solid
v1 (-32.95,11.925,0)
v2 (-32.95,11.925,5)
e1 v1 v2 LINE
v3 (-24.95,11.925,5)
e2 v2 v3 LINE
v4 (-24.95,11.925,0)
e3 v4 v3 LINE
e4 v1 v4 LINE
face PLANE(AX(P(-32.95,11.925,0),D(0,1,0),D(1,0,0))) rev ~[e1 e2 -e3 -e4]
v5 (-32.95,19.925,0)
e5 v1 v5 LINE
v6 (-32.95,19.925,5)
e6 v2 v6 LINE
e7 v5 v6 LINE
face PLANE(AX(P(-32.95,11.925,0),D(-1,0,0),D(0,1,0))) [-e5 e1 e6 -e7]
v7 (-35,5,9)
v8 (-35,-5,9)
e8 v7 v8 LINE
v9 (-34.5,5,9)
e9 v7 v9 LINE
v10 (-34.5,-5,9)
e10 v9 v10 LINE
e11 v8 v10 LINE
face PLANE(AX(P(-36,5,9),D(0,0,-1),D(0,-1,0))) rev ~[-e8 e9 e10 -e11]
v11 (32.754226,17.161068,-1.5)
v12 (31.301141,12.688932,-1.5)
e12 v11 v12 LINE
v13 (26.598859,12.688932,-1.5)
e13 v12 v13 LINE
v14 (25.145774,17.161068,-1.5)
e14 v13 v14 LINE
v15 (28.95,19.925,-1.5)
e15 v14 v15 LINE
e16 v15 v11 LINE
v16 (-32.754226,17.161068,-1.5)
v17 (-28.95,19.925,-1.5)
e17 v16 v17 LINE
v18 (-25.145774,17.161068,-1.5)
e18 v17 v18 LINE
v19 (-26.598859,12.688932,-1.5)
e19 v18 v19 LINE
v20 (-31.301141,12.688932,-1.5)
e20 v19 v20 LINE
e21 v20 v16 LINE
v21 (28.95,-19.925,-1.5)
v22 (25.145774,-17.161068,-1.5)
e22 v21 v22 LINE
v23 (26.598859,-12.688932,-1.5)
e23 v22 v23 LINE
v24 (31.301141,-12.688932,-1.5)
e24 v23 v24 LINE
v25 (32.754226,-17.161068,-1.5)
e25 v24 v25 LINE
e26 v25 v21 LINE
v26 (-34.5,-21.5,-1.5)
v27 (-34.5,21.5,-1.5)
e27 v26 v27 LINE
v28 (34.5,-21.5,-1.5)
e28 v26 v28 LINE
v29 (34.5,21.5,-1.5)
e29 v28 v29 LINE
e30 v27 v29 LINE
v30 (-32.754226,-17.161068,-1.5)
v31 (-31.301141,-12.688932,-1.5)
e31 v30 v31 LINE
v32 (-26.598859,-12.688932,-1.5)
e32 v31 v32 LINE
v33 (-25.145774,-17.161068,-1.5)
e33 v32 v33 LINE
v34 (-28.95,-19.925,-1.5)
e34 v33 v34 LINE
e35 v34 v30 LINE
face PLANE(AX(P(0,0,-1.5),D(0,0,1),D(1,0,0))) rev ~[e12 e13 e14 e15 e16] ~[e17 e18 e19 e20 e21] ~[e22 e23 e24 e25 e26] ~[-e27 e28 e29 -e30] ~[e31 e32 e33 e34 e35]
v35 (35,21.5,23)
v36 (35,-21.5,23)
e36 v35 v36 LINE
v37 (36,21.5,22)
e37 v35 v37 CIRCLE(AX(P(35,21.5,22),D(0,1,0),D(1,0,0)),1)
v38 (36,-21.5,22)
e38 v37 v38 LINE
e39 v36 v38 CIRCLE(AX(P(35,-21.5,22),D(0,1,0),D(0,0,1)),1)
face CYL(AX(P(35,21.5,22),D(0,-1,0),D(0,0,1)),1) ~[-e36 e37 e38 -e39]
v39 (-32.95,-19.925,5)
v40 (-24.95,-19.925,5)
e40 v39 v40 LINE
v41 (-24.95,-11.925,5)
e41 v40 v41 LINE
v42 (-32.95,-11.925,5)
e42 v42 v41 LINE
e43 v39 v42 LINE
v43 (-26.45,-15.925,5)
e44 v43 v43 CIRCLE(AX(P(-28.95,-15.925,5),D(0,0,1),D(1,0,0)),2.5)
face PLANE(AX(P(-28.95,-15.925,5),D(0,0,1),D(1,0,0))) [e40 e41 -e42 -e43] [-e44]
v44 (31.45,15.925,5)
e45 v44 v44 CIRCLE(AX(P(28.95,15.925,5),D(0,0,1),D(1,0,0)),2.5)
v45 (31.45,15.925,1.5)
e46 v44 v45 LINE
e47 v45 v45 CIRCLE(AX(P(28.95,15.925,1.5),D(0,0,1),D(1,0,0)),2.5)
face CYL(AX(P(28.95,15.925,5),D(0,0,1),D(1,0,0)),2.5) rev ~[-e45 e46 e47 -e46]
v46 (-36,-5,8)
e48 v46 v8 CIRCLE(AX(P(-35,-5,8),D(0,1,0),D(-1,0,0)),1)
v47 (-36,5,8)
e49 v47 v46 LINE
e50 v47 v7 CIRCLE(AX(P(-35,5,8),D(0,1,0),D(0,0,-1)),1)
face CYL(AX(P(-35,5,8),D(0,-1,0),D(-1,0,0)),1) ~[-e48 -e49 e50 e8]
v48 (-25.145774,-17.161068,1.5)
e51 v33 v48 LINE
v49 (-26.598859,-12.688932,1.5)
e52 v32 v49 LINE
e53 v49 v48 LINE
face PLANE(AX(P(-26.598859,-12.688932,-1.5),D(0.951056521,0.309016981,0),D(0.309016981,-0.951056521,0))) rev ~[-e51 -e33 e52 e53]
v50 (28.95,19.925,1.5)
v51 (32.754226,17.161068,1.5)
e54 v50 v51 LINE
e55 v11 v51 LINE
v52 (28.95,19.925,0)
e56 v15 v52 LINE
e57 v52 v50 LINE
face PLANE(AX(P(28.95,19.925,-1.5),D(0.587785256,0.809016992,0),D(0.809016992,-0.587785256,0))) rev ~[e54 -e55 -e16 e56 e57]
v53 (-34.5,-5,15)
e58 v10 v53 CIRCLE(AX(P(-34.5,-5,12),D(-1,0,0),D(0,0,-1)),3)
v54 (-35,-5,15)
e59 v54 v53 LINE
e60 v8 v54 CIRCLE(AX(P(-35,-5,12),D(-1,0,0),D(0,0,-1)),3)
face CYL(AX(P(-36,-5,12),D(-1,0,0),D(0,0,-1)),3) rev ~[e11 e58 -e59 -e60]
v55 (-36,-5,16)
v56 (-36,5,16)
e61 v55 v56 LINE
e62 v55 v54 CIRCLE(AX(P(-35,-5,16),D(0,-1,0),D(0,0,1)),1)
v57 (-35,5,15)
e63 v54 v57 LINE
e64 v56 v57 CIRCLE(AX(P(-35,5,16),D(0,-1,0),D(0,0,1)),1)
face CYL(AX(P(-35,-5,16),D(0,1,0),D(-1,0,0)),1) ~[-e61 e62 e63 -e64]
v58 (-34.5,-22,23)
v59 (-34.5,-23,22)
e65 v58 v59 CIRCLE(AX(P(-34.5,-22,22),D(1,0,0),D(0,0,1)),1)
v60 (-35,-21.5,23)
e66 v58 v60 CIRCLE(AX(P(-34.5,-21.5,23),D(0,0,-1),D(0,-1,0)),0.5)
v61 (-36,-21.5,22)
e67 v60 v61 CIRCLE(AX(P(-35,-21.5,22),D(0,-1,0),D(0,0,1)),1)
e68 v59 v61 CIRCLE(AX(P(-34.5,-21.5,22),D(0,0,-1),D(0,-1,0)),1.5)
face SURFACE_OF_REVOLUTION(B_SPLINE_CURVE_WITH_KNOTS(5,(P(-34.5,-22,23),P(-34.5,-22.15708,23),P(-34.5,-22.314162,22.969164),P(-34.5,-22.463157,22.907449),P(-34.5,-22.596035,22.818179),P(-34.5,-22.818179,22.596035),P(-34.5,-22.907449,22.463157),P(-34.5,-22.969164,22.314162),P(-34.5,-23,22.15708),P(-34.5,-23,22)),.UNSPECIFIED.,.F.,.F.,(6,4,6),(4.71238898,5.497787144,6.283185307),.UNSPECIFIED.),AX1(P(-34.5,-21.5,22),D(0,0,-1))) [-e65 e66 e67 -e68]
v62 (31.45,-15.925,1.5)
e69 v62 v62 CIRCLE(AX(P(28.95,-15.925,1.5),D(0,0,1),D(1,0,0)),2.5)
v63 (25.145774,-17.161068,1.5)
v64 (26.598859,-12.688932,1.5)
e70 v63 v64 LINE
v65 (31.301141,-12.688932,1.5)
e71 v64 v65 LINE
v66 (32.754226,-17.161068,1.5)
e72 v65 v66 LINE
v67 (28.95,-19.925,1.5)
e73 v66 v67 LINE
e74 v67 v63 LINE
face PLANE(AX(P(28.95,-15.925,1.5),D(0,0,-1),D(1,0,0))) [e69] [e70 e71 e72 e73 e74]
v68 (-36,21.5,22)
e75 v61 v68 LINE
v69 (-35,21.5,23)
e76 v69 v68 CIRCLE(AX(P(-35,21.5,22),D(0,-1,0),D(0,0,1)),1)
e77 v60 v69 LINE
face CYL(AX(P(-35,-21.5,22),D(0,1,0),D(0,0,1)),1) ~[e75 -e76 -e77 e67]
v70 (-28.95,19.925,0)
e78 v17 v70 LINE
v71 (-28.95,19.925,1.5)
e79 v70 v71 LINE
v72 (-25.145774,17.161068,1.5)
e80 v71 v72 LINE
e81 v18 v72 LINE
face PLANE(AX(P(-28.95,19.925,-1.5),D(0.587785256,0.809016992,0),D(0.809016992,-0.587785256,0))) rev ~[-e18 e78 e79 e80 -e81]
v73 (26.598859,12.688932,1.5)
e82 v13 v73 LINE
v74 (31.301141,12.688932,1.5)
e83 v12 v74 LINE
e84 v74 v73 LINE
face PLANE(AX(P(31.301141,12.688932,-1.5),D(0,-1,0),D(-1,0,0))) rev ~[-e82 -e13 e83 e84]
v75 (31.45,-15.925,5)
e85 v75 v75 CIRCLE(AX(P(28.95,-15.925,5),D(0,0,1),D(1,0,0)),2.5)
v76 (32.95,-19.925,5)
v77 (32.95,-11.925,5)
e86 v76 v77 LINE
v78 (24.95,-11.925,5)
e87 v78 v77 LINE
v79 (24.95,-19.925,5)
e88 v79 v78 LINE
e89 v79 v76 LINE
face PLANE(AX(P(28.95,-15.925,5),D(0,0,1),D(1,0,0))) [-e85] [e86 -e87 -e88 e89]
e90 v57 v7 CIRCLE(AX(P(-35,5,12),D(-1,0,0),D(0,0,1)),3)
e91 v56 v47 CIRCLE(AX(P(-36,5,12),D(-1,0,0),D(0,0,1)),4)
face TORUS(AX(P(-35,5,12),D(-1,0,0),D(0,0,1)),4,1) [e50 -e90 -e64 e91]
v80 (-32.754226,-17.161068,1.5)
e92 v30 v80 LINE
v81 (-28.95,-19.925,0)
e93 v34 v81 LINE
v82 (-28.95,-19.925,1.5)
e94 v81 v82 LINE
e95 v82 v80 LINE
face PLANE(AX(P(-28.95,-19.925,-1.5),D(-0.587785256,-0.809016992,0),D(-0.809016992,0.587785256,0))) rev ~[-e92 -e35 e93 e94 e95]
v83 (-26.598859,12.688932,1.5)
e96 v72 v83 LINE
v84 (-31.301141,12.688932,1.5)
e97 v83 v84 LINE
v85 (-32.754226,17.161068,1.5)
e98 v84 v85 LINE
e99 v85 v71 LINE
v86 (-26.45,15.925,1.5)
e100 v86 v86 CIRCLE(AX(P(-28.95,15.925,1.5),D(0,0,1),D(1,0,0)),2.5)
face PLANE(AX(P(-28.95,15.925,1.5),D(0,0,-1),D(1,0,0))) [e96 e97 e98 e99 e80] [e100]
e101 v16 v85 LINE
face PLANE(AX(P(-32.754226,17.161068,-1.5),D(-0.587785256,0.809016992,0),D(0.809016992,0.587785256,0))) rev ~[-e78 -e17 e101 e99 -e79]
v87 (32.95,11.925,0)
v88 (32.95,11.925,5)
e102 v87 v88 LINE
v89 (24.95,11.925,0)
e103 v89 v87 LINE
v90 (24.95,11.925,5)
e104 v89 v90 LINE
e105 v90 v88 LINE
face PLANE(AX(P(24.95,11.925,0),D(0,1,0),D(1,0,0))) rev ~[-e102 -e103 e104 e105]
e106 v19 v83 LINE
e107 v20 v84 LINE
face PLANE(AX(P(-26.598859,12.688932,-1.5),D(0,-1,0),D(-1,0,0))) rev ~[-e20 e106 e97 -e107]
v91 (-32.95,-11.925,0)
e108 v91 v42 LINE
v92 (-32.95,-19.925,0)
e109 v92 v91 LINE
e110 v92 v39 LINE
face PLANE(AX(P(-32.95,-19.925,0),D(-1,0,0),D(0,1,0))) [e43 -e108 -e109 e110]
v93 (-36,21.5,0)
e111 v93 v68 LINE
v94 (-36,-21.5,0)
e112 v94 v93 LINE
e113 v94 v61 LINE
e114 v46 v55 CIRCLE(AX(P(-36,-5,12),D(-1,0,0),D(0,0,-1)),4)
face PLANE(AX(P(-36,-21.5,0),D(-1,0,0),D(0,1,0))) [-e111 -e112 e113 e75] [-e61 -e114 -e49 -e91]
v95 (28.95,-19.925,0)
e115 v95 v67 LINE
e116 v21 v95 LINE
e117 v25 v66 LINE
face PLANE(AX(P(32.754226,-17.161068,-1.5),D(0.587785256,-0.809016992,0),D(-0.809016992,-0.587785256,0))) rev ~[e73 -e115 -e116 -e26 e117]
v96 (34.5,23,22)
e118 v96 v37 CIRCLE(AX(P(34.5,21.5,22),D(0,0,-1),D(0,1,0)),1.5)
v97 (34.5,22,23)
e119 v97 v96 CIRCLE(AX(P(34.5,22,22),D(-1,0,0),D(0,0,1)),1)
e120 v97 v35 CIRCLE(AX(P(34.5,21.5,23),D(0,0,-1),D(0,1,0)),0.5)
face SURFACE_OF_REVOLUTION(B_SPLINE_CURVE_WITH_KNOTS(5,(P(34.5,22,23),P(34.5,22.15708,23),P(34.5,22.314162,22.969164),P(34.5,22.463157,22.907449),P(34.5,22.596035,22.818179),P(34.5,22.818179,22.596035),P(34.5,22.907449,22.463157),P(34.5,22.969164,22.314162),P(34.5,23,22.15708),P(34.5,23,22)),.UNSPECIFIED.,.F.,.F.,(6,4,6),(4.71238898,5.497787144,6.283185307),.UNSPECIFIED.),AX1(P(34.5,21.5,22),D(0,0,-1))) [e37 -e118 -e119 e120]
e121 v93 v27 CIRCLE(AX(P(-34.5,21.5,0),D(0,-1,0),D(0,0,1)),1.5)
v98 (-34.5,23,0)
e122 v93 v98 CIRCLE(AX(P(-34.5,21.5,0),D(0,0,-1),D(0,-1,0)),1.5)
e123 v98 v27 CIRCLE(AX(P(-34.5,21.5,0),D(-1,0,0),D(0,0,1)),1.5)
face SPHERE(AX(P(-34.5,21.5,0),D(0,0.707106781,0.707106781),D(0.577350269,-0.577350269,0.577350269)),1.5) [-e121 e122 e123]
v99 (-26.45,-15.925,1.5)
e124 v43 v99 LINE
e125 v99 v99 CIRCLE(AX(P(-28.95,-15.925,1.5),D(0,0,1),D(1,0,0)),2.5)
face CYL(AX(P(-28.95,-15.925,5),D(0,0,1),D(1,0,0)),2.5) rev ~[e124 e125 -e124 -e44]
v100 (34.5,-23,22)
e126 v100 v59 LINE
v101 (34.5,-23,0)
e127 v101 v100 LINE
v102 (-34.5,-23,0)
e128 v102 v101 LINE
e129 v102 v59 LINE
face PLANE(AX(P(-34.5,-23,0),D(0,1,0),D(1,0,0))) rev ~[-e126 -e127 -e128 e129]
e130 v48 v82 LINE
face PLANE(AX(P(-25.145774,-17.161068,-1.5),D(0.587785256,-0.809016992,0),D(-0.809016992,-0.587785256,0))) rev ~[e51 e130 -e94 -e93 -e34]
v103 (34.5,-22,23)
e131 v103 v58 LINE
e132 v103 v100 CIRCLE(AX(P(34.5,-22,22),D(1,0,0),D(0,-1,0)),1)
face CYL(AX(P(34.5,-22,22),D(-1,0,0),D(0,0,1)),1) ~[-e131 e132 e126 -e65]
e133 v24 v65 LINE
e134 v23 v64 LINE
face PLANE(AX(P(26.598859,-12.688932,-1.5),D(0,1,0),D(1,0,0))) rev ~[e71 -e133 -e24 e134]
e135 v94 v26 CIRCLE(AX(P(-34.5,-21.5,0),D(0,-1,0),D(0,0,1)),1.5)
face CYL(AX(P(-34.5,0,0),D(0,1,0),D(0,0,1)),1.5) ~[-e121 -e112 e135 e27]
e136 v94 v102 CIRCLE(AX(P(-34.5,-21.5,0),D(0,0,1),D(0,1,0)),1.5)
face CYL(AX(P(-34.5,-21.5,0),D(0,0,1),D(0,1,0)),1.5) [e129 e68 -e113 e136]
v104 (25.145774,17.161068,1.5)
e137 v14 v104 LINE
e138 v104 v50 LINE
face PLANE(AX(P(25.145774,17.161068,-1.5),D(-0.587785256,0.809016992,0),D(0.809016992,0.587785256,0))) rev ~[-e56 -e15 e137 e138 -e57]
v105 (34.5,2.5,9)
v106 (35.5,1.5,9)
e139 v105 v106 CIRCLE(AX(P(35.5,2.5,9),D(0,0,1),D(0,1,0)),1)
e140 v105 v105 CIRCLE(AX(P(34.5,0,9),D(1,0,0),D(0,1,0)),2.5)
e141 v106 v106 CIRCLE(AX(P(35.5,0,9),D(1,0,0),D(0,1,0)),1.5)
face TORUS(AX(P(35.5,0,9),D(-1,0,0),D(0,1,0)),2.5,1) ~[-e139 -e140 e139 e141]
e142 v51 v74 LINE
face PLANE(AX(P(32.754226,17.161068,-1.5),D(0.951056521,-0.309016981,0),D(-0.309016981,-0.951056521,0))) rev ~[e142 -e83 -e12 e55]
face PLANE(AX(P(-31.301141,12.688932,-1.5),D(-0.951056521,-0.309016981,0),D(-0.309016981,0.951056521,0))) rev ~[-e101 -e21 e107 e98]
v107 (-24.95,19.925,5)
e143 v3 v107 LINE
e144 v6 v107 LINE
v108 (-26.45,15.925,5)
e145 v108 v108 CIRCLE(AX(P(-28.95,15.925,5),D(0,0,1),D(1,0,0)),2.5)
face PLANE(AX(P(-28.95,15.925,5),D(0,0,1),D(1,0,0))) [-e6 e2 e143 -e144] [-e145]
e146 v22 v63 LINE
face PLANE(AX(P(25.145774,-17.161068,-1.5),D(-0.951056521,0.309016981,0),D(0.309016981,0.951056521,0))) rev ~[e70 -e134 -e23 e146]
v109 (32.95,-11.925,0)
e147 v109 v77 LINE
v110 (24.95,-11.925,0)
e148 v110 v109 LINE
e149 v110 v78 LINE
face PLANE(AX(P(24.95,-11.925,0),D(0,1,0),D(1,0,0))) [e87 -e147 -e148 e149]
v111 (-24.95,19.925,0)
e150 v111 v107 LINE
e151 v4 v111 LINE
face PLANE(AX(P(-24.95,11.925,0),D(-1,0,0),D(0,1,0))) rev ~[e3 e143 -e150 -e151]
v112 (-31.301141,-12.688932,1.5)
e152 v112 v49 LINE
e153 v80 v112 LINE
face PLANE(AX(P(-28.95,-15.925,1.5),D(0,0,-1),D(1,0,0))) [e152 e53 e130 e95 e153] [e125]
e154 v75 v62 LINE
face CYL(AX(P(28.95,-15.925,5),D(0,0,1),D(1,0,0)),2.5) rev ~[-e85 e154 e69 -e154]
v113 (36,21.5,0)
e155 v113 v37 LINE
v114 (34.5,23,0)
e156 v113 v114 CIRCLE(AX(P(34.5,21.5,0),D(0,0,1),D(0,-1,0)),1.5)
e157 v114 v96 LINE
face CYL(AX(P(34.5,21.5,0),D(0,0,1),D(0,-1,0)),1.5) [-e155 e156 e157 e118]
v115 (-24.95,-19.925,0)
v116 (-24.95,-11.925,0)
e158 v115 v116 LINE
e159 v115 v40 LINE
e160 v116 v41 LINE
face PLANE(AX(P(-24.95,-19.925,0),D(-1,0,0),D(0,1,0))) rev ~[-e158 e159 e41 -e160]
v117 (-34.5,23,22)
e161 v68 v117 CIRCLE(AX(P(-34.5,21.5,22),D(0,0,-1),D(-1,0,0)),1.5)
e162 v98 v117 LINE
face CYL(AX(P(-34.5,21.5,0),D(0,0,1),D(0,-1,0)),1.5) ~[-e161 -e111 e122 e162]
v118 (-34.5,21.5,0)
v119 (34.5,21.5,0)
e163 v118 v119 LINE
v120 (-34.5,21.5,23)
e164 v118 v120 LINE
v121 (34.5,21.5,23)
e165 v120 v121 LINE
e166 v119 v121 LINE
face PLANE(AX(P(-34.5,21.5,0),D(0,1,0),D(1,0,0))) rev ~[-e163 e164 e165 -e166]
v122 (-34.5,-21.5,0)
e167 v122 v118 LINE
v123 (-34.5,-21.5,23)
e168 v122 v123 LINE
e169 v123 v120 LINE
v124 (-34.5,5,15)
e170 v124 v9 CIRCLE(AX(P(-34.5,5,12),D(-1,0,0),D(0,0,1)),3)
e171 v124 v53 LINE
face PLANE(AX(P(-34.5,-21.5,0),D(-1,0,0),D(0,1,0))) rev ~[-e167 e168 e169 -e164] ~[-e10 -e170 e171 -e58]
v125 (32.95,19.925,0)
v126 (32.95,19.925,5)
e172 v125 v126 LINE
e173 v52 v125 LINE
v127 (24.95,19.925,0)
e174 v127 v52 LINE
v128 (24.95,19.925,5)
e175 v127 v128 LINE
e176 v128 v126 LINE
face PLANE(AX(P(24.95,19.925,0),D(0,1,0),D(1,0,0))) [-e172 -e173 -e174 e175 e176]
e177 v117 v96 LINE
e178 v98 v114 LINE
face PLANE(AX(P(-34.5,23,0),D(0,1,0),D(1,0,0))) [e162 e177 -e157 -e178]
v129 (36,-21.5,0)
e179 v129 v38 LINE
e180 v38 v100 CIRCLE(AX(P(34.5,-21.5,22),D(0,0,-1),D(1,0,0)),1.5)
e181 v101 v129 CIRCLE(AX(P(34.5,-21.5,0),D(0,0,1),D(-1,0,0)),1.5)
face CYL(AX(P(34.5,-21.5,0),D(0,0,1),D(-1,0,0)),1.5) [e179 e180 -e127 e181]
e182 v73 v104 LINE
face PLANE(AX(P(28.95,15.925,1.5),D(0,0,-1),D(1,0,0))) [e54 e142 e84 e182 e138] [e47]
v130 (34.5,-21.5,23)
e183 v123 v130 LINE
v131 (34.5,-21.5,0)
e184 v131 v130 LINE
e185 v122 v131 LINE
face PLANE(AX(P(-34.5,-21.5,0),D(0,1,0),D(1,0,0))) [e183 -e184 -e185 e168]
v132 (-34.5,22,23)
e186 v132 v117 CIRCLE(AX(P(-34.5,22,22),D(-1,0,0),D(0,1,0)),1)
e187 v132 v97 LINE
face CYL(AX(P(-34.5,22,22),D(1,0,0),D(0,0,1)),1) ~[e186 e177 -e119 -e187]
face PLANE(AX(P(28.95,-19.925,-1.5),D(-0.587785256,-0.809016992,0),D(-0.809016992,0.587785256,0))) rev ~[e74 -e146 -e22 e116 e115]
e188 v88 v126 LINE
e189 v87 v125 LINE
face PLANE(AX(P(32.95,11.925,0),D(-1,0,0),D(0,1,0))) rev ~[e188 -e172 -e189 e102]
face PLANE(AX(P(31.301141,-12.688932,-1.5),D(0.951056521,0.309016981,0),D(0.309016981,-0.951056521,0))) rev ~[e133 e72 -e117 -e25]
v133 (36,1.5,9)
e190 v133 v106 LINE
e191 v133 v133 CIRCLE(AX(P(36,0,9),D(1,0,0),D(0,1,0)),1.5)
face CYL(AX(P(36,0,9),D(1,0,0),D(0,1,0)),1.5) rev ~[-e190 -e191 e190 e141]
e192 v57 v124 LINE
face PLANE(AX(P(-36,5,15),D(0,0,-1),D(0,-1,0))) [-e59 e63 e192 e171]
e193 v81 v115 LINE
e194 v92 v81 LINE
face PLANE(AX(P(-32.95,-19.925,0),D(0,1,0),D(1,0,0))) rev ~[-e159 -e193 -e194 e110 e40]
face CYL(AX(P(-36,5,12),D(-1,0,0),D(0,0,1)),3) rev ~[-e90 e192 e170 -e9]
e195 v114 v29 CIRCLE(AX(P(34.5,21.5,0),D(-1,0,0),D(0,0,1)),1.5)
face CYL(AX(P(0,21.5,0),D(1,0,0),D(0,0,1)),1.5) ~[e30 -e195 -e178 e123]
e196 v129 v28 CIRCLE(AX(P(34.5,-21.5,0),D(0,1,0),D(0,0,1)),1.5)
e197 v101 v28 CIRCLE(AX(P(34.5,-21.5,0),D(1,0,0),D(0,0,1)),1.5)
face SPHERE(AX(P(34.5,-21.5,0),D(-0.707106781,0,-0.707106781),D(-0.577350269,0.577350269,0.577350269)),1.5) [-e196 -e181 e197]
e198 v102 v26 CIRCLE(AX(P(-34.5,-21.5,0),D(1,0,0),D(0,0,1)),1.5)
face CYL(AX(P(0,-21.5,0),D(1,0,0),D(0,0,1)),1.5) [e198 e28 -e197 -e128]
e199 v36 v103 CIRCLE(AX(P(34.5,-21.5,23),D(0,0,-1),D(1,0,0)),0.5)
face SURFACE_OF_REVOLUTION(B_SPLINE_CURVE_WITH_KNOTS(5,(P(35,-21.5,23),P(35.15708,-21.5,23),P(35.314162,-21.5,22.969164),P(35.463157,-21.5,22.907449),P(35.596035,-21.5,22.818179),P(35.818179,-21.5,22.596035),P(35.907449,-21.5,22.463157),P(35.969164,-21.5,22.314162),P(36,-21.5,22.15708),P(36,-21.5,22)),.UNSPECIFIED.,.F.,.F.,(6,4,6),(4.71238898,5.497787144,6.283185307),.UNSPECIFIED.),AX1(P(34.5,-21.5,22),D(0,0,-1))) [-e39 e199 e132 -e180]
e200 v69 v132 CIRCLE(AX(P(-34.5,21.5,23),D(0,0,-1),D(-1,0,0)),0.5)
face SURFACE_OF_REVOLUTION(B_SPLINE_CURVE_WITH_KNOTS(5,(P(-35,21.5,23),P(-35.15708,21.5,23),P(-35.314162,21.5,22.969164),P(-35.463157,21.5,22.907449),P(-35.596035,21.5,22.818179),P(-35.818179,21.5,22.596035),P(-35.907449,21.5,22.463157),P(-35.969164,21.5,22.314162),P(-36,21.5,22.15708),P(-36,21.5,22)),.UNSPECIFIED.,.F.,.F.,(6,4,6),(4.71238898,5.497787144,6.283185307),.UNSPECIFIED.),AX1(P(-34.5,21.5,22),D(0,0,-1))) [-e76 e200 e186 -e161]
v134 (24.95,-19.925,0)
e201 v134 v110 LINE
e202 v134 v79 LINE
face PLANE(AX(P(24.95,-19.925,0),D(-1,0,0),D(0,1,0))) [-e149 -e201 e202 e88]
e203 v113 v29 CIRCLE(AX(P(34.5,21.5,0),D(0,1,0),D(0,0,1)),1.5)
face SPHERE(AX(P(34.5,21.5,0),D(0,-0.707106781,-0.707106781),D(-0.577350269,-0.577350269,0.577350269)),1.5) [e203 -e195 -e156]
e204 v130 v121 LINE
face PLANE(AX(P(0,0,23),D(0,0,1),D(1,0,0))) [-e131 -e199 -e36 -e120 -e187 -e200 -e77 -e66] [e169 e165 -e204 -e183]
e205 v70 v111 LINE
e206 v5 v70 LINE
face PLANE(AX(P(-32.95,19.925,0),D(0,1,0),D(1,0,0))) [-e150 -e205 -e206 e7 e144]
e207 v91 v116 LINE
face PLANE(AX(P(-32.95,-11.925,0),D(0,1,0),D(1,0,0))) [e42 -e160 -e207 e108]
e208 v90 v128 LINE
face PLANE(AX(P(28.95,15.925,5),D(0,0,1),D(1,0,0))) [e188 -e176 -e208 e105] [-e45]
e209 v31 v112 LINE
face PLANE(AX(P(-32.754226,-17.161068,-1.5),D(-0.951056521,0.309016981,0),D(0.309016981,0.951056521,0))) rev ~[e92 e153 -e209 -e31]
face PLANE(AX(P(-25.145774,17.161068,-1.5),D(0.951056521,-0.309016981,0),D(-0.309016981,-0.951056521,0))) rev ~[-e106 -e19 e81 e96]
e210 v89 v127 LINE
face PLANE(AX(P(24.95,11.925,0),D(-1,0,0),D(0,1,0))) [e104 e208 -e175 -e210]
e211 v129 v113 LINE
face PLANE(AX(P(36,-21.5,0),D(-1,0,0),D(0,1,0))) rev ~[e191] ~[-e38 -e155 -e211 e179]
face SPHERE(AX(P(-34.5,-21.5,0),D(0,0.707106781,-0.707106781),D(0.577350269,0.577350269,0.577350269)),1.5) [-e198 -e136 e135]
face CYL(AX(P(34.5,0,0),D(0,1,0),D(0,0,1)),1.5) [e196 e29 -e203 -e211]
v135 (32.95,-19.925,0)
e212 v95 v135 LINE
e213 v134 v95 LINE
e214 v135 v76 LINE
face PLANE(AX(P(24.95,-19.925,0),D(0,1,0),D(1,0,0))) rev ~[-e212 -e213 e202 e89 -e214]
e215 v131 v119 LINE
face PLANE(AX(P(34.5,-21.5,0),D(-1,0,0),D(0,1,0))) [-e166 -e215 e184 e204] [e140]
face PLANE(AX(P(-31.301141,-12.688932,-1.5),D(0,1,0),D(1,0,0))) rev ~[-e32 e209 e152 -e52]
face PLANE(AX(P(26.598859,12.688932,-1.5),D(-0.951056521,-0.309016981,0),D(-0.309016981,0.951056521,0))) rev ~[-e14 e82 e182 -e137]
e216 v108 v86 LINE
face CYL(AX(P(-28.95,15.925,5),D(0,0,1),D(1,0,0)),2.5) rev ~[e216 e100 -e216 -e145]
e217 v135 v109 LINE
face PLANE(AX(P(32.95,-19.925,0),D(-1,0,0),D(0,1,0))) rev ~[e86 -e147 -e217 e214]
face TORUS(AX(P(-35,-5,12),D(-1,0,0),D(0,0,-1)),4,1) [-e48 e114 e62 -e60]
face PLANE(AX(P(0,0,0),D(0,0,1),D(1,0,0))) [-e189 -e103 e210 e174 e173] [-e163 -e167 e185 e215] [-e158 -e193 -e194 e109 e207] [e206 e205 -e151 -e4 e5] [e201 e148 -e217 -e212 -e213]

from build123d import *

# Parameters (mm, degrees)
SKETCH_W        = 69
SKETCH_H        = 43
PAD_DEPTH       = 23
THICKNESS_T     = 1.5
SKETCH001_R     = 1.5
HOLE_DEPTH      = 2.098709
HOLE_TIPS_R     = 1.5
POCKET_DEPTH    = 5
SKETCH003_W     = 8
SKETCH003_H     = 8
PAD001_DEPTH    = 5
SKETCH007_R     = 2.5
POCKET003_DEPTH = 7
SKETCH008_R     = 2.5
POCKET004_DEPTH = 7
SKETCH009_R     = 2.5
POCKET005_DEPTH = 7
SKETCH010_R     = 2.5
POCKET006_DEPTH = 7
POCKET007_DEPTH = 3
FILLET_R        = 1
FILLET001_R     = 1


with BuildPart() as part:
    # Sketch → Pad (new body)
    with BuildSketch(Plane.XY):
        Rectangle(SKETCH_W, SKETCH_H)
    extrude(amount=PAD_DEPTH)

    # Thickness
    thickness_openings = [part.faces().sort_by_distance(p)[0] for p in [
        (0, 0, 23),
    ]]
    offset(amount=THICKNESS_T, openings=thickness_openings)

    # Sketch001 (on Face10 of Thickness) → Hole (cut)
    with BuildSketch(Plane.YZ.offset(36)):
        with Locations((0, 9)):
            Circle(SKETCH001_R)
    extrude(amount=-HOLE_DEPTH, mode=Mode.SUBTRACT)

    # Hole tips → Hole tip 1 section 0
    with BuildSketch(Plane.YZ.offset(33.901291), mode=Mode.PRIVATE) as hole_tip_1_s0:
        with Locations((0, 9)):
            Circle(HOLE_TIPS_R)
    loft([hole_tip_1_s0.sketch, Vertex(33, 0, 9)], mode=Mode.SUBTRACT)

    # Sketch002 (on Face9 of Hole) → Pocket (cut)
    with BuildSketch(Plane(origin=(-36, 0, 0), x_dir=(0, -1, 0), z_dir=(-1, 0, 0))):
        with BuildLine():
            ThreePointArc((-5, 15), (-8, 12), (-5, 9))
            Line((-5, 9), (5, 9))
            ThreePointArc((5, 9), (8, 12), (5, 15))
            Line((-5, 15), (5, 15))
        make_face()
    extrude(amount=-POCKET_DEPTH, mode=Mode.SUBTRACT)

    # Sketch003 (on Face4 of Pocket) → Pad001 (join)
    with BuildSketch(Plane.XY):
        with Locations((-28.95, 15.925)):
            Rectangle(SKETCH003_W, SKETCH003_H)
        with Locations((28.95, 15.925)):
            Rectangle(SKETCH003_W, SKETCH003_H)
        with Locations((-28.95, -15.925)):
            Rectangle(SKETCH003_W, SKETCH003_H)
        with Locations((28.95, -15.925)):
            Rectangle(SKETCH003_W, SKETCH003_H)
    extrude(amount=PAD001_DEPTH)

    # Sketch007 (on Face39 of Pad001) → Pocket003 (cut)
    with BuildSketch(Plane.XY.offset(5)):
        with Locations((-28.95, 15.925)):
            Circle(SKETCH007_R)
    extrude(amount=-POCKET003_DEPTH, mode=Mode.SUBTRACT)

    # Sketch008 (on Face38 of Pocket003) → Pocket004 (cut)
    with BuildSketch(Plane.XY.offset(5)):
        with Locations((28.95, 15.925)):
            Circle(SKETCH008_R)
    extrude(amount=-POCKET004_DEPTH, mode=Mode.SUBTRACT)

    # Sketch009 (on Face37 of Pocket004) → Pocket005 (cut)
    with BuildSketch(Plane.XY.offset(5)):
        with Locations((-28.95, -15.925)):
            Circle(SKETCH009_R)
    extrude(amount=-POCKET005_DEPTH, mode=Mode.SUBTRACT)

    # Sketch010 (on Face36 of Pocket005) → Pocket006 (cut)
    with BuildSketch(Plane.XY.offset(5)):
        with Locations((28.95, -15.925)):
            Circle(SKETCH010_R)
    extrude(amount=-POCKET006_DEPTH, mode=Mode.SUBTRACT)

    # Sketch011 (on Face52 of Pocket006) → Pocket007 (cut)
    with BuildSketch(Plane(origin=(0, 0, -1.5), x_dir=(1, 0, 0), z_dir=(0, 0, -1))):
        Polygon((-25.145774, 17.161068), (-28.95, 19.925), (-32.754226, 17.161068), (-31.301141, 12.688932), (-26.598859, 12.688932), align=None)
        Polygon((26.598859, 12.688932), (31.301141, 12.688932), (32.754226, 17.161068), (28.95, 19.925), (25.145774, 17.161068), align=None)
        Polygon((-26.598859, -12.688932), (-31.301141, -12.688932), (-32.754226, -17.161068), (-28.95, -19.925), (-25.145774, -17.161068), align=None)
        Polygon((26.598859, -12.688932), (25.145774, -17.161068), (28.95, -19.925), (32.754226, -17.161068), (31.301141, -12.688932), align=None)
    extrude(amount=-POCKET007_DEPTH, mode=Mode.SUBTRACT)

    # Fillet
    fillet_edges = [part.edges().sort_by_distance(p)[0] for p in [
        (34.5, 0, 10.5),
    ]]
    fillet(fillet_edges, radius=FILLET_R)

    # Fillet001
    fillet001_edges = [part.edges().sort_by_distance(p)[0] for p in [
        (-36, 0, 0),
        (-36, -21.5, 11.5),
        (-36, 21.5, 11.5),
        (-36, 0, 23),
        (-36, 8, 12),
        (-36, 0, 9),
        (-36, -8, 12),
        (-36, 0, 15),
    ]]
    fillet(fillet001_edges, radius=FILLET001_R)


solid = part.part
